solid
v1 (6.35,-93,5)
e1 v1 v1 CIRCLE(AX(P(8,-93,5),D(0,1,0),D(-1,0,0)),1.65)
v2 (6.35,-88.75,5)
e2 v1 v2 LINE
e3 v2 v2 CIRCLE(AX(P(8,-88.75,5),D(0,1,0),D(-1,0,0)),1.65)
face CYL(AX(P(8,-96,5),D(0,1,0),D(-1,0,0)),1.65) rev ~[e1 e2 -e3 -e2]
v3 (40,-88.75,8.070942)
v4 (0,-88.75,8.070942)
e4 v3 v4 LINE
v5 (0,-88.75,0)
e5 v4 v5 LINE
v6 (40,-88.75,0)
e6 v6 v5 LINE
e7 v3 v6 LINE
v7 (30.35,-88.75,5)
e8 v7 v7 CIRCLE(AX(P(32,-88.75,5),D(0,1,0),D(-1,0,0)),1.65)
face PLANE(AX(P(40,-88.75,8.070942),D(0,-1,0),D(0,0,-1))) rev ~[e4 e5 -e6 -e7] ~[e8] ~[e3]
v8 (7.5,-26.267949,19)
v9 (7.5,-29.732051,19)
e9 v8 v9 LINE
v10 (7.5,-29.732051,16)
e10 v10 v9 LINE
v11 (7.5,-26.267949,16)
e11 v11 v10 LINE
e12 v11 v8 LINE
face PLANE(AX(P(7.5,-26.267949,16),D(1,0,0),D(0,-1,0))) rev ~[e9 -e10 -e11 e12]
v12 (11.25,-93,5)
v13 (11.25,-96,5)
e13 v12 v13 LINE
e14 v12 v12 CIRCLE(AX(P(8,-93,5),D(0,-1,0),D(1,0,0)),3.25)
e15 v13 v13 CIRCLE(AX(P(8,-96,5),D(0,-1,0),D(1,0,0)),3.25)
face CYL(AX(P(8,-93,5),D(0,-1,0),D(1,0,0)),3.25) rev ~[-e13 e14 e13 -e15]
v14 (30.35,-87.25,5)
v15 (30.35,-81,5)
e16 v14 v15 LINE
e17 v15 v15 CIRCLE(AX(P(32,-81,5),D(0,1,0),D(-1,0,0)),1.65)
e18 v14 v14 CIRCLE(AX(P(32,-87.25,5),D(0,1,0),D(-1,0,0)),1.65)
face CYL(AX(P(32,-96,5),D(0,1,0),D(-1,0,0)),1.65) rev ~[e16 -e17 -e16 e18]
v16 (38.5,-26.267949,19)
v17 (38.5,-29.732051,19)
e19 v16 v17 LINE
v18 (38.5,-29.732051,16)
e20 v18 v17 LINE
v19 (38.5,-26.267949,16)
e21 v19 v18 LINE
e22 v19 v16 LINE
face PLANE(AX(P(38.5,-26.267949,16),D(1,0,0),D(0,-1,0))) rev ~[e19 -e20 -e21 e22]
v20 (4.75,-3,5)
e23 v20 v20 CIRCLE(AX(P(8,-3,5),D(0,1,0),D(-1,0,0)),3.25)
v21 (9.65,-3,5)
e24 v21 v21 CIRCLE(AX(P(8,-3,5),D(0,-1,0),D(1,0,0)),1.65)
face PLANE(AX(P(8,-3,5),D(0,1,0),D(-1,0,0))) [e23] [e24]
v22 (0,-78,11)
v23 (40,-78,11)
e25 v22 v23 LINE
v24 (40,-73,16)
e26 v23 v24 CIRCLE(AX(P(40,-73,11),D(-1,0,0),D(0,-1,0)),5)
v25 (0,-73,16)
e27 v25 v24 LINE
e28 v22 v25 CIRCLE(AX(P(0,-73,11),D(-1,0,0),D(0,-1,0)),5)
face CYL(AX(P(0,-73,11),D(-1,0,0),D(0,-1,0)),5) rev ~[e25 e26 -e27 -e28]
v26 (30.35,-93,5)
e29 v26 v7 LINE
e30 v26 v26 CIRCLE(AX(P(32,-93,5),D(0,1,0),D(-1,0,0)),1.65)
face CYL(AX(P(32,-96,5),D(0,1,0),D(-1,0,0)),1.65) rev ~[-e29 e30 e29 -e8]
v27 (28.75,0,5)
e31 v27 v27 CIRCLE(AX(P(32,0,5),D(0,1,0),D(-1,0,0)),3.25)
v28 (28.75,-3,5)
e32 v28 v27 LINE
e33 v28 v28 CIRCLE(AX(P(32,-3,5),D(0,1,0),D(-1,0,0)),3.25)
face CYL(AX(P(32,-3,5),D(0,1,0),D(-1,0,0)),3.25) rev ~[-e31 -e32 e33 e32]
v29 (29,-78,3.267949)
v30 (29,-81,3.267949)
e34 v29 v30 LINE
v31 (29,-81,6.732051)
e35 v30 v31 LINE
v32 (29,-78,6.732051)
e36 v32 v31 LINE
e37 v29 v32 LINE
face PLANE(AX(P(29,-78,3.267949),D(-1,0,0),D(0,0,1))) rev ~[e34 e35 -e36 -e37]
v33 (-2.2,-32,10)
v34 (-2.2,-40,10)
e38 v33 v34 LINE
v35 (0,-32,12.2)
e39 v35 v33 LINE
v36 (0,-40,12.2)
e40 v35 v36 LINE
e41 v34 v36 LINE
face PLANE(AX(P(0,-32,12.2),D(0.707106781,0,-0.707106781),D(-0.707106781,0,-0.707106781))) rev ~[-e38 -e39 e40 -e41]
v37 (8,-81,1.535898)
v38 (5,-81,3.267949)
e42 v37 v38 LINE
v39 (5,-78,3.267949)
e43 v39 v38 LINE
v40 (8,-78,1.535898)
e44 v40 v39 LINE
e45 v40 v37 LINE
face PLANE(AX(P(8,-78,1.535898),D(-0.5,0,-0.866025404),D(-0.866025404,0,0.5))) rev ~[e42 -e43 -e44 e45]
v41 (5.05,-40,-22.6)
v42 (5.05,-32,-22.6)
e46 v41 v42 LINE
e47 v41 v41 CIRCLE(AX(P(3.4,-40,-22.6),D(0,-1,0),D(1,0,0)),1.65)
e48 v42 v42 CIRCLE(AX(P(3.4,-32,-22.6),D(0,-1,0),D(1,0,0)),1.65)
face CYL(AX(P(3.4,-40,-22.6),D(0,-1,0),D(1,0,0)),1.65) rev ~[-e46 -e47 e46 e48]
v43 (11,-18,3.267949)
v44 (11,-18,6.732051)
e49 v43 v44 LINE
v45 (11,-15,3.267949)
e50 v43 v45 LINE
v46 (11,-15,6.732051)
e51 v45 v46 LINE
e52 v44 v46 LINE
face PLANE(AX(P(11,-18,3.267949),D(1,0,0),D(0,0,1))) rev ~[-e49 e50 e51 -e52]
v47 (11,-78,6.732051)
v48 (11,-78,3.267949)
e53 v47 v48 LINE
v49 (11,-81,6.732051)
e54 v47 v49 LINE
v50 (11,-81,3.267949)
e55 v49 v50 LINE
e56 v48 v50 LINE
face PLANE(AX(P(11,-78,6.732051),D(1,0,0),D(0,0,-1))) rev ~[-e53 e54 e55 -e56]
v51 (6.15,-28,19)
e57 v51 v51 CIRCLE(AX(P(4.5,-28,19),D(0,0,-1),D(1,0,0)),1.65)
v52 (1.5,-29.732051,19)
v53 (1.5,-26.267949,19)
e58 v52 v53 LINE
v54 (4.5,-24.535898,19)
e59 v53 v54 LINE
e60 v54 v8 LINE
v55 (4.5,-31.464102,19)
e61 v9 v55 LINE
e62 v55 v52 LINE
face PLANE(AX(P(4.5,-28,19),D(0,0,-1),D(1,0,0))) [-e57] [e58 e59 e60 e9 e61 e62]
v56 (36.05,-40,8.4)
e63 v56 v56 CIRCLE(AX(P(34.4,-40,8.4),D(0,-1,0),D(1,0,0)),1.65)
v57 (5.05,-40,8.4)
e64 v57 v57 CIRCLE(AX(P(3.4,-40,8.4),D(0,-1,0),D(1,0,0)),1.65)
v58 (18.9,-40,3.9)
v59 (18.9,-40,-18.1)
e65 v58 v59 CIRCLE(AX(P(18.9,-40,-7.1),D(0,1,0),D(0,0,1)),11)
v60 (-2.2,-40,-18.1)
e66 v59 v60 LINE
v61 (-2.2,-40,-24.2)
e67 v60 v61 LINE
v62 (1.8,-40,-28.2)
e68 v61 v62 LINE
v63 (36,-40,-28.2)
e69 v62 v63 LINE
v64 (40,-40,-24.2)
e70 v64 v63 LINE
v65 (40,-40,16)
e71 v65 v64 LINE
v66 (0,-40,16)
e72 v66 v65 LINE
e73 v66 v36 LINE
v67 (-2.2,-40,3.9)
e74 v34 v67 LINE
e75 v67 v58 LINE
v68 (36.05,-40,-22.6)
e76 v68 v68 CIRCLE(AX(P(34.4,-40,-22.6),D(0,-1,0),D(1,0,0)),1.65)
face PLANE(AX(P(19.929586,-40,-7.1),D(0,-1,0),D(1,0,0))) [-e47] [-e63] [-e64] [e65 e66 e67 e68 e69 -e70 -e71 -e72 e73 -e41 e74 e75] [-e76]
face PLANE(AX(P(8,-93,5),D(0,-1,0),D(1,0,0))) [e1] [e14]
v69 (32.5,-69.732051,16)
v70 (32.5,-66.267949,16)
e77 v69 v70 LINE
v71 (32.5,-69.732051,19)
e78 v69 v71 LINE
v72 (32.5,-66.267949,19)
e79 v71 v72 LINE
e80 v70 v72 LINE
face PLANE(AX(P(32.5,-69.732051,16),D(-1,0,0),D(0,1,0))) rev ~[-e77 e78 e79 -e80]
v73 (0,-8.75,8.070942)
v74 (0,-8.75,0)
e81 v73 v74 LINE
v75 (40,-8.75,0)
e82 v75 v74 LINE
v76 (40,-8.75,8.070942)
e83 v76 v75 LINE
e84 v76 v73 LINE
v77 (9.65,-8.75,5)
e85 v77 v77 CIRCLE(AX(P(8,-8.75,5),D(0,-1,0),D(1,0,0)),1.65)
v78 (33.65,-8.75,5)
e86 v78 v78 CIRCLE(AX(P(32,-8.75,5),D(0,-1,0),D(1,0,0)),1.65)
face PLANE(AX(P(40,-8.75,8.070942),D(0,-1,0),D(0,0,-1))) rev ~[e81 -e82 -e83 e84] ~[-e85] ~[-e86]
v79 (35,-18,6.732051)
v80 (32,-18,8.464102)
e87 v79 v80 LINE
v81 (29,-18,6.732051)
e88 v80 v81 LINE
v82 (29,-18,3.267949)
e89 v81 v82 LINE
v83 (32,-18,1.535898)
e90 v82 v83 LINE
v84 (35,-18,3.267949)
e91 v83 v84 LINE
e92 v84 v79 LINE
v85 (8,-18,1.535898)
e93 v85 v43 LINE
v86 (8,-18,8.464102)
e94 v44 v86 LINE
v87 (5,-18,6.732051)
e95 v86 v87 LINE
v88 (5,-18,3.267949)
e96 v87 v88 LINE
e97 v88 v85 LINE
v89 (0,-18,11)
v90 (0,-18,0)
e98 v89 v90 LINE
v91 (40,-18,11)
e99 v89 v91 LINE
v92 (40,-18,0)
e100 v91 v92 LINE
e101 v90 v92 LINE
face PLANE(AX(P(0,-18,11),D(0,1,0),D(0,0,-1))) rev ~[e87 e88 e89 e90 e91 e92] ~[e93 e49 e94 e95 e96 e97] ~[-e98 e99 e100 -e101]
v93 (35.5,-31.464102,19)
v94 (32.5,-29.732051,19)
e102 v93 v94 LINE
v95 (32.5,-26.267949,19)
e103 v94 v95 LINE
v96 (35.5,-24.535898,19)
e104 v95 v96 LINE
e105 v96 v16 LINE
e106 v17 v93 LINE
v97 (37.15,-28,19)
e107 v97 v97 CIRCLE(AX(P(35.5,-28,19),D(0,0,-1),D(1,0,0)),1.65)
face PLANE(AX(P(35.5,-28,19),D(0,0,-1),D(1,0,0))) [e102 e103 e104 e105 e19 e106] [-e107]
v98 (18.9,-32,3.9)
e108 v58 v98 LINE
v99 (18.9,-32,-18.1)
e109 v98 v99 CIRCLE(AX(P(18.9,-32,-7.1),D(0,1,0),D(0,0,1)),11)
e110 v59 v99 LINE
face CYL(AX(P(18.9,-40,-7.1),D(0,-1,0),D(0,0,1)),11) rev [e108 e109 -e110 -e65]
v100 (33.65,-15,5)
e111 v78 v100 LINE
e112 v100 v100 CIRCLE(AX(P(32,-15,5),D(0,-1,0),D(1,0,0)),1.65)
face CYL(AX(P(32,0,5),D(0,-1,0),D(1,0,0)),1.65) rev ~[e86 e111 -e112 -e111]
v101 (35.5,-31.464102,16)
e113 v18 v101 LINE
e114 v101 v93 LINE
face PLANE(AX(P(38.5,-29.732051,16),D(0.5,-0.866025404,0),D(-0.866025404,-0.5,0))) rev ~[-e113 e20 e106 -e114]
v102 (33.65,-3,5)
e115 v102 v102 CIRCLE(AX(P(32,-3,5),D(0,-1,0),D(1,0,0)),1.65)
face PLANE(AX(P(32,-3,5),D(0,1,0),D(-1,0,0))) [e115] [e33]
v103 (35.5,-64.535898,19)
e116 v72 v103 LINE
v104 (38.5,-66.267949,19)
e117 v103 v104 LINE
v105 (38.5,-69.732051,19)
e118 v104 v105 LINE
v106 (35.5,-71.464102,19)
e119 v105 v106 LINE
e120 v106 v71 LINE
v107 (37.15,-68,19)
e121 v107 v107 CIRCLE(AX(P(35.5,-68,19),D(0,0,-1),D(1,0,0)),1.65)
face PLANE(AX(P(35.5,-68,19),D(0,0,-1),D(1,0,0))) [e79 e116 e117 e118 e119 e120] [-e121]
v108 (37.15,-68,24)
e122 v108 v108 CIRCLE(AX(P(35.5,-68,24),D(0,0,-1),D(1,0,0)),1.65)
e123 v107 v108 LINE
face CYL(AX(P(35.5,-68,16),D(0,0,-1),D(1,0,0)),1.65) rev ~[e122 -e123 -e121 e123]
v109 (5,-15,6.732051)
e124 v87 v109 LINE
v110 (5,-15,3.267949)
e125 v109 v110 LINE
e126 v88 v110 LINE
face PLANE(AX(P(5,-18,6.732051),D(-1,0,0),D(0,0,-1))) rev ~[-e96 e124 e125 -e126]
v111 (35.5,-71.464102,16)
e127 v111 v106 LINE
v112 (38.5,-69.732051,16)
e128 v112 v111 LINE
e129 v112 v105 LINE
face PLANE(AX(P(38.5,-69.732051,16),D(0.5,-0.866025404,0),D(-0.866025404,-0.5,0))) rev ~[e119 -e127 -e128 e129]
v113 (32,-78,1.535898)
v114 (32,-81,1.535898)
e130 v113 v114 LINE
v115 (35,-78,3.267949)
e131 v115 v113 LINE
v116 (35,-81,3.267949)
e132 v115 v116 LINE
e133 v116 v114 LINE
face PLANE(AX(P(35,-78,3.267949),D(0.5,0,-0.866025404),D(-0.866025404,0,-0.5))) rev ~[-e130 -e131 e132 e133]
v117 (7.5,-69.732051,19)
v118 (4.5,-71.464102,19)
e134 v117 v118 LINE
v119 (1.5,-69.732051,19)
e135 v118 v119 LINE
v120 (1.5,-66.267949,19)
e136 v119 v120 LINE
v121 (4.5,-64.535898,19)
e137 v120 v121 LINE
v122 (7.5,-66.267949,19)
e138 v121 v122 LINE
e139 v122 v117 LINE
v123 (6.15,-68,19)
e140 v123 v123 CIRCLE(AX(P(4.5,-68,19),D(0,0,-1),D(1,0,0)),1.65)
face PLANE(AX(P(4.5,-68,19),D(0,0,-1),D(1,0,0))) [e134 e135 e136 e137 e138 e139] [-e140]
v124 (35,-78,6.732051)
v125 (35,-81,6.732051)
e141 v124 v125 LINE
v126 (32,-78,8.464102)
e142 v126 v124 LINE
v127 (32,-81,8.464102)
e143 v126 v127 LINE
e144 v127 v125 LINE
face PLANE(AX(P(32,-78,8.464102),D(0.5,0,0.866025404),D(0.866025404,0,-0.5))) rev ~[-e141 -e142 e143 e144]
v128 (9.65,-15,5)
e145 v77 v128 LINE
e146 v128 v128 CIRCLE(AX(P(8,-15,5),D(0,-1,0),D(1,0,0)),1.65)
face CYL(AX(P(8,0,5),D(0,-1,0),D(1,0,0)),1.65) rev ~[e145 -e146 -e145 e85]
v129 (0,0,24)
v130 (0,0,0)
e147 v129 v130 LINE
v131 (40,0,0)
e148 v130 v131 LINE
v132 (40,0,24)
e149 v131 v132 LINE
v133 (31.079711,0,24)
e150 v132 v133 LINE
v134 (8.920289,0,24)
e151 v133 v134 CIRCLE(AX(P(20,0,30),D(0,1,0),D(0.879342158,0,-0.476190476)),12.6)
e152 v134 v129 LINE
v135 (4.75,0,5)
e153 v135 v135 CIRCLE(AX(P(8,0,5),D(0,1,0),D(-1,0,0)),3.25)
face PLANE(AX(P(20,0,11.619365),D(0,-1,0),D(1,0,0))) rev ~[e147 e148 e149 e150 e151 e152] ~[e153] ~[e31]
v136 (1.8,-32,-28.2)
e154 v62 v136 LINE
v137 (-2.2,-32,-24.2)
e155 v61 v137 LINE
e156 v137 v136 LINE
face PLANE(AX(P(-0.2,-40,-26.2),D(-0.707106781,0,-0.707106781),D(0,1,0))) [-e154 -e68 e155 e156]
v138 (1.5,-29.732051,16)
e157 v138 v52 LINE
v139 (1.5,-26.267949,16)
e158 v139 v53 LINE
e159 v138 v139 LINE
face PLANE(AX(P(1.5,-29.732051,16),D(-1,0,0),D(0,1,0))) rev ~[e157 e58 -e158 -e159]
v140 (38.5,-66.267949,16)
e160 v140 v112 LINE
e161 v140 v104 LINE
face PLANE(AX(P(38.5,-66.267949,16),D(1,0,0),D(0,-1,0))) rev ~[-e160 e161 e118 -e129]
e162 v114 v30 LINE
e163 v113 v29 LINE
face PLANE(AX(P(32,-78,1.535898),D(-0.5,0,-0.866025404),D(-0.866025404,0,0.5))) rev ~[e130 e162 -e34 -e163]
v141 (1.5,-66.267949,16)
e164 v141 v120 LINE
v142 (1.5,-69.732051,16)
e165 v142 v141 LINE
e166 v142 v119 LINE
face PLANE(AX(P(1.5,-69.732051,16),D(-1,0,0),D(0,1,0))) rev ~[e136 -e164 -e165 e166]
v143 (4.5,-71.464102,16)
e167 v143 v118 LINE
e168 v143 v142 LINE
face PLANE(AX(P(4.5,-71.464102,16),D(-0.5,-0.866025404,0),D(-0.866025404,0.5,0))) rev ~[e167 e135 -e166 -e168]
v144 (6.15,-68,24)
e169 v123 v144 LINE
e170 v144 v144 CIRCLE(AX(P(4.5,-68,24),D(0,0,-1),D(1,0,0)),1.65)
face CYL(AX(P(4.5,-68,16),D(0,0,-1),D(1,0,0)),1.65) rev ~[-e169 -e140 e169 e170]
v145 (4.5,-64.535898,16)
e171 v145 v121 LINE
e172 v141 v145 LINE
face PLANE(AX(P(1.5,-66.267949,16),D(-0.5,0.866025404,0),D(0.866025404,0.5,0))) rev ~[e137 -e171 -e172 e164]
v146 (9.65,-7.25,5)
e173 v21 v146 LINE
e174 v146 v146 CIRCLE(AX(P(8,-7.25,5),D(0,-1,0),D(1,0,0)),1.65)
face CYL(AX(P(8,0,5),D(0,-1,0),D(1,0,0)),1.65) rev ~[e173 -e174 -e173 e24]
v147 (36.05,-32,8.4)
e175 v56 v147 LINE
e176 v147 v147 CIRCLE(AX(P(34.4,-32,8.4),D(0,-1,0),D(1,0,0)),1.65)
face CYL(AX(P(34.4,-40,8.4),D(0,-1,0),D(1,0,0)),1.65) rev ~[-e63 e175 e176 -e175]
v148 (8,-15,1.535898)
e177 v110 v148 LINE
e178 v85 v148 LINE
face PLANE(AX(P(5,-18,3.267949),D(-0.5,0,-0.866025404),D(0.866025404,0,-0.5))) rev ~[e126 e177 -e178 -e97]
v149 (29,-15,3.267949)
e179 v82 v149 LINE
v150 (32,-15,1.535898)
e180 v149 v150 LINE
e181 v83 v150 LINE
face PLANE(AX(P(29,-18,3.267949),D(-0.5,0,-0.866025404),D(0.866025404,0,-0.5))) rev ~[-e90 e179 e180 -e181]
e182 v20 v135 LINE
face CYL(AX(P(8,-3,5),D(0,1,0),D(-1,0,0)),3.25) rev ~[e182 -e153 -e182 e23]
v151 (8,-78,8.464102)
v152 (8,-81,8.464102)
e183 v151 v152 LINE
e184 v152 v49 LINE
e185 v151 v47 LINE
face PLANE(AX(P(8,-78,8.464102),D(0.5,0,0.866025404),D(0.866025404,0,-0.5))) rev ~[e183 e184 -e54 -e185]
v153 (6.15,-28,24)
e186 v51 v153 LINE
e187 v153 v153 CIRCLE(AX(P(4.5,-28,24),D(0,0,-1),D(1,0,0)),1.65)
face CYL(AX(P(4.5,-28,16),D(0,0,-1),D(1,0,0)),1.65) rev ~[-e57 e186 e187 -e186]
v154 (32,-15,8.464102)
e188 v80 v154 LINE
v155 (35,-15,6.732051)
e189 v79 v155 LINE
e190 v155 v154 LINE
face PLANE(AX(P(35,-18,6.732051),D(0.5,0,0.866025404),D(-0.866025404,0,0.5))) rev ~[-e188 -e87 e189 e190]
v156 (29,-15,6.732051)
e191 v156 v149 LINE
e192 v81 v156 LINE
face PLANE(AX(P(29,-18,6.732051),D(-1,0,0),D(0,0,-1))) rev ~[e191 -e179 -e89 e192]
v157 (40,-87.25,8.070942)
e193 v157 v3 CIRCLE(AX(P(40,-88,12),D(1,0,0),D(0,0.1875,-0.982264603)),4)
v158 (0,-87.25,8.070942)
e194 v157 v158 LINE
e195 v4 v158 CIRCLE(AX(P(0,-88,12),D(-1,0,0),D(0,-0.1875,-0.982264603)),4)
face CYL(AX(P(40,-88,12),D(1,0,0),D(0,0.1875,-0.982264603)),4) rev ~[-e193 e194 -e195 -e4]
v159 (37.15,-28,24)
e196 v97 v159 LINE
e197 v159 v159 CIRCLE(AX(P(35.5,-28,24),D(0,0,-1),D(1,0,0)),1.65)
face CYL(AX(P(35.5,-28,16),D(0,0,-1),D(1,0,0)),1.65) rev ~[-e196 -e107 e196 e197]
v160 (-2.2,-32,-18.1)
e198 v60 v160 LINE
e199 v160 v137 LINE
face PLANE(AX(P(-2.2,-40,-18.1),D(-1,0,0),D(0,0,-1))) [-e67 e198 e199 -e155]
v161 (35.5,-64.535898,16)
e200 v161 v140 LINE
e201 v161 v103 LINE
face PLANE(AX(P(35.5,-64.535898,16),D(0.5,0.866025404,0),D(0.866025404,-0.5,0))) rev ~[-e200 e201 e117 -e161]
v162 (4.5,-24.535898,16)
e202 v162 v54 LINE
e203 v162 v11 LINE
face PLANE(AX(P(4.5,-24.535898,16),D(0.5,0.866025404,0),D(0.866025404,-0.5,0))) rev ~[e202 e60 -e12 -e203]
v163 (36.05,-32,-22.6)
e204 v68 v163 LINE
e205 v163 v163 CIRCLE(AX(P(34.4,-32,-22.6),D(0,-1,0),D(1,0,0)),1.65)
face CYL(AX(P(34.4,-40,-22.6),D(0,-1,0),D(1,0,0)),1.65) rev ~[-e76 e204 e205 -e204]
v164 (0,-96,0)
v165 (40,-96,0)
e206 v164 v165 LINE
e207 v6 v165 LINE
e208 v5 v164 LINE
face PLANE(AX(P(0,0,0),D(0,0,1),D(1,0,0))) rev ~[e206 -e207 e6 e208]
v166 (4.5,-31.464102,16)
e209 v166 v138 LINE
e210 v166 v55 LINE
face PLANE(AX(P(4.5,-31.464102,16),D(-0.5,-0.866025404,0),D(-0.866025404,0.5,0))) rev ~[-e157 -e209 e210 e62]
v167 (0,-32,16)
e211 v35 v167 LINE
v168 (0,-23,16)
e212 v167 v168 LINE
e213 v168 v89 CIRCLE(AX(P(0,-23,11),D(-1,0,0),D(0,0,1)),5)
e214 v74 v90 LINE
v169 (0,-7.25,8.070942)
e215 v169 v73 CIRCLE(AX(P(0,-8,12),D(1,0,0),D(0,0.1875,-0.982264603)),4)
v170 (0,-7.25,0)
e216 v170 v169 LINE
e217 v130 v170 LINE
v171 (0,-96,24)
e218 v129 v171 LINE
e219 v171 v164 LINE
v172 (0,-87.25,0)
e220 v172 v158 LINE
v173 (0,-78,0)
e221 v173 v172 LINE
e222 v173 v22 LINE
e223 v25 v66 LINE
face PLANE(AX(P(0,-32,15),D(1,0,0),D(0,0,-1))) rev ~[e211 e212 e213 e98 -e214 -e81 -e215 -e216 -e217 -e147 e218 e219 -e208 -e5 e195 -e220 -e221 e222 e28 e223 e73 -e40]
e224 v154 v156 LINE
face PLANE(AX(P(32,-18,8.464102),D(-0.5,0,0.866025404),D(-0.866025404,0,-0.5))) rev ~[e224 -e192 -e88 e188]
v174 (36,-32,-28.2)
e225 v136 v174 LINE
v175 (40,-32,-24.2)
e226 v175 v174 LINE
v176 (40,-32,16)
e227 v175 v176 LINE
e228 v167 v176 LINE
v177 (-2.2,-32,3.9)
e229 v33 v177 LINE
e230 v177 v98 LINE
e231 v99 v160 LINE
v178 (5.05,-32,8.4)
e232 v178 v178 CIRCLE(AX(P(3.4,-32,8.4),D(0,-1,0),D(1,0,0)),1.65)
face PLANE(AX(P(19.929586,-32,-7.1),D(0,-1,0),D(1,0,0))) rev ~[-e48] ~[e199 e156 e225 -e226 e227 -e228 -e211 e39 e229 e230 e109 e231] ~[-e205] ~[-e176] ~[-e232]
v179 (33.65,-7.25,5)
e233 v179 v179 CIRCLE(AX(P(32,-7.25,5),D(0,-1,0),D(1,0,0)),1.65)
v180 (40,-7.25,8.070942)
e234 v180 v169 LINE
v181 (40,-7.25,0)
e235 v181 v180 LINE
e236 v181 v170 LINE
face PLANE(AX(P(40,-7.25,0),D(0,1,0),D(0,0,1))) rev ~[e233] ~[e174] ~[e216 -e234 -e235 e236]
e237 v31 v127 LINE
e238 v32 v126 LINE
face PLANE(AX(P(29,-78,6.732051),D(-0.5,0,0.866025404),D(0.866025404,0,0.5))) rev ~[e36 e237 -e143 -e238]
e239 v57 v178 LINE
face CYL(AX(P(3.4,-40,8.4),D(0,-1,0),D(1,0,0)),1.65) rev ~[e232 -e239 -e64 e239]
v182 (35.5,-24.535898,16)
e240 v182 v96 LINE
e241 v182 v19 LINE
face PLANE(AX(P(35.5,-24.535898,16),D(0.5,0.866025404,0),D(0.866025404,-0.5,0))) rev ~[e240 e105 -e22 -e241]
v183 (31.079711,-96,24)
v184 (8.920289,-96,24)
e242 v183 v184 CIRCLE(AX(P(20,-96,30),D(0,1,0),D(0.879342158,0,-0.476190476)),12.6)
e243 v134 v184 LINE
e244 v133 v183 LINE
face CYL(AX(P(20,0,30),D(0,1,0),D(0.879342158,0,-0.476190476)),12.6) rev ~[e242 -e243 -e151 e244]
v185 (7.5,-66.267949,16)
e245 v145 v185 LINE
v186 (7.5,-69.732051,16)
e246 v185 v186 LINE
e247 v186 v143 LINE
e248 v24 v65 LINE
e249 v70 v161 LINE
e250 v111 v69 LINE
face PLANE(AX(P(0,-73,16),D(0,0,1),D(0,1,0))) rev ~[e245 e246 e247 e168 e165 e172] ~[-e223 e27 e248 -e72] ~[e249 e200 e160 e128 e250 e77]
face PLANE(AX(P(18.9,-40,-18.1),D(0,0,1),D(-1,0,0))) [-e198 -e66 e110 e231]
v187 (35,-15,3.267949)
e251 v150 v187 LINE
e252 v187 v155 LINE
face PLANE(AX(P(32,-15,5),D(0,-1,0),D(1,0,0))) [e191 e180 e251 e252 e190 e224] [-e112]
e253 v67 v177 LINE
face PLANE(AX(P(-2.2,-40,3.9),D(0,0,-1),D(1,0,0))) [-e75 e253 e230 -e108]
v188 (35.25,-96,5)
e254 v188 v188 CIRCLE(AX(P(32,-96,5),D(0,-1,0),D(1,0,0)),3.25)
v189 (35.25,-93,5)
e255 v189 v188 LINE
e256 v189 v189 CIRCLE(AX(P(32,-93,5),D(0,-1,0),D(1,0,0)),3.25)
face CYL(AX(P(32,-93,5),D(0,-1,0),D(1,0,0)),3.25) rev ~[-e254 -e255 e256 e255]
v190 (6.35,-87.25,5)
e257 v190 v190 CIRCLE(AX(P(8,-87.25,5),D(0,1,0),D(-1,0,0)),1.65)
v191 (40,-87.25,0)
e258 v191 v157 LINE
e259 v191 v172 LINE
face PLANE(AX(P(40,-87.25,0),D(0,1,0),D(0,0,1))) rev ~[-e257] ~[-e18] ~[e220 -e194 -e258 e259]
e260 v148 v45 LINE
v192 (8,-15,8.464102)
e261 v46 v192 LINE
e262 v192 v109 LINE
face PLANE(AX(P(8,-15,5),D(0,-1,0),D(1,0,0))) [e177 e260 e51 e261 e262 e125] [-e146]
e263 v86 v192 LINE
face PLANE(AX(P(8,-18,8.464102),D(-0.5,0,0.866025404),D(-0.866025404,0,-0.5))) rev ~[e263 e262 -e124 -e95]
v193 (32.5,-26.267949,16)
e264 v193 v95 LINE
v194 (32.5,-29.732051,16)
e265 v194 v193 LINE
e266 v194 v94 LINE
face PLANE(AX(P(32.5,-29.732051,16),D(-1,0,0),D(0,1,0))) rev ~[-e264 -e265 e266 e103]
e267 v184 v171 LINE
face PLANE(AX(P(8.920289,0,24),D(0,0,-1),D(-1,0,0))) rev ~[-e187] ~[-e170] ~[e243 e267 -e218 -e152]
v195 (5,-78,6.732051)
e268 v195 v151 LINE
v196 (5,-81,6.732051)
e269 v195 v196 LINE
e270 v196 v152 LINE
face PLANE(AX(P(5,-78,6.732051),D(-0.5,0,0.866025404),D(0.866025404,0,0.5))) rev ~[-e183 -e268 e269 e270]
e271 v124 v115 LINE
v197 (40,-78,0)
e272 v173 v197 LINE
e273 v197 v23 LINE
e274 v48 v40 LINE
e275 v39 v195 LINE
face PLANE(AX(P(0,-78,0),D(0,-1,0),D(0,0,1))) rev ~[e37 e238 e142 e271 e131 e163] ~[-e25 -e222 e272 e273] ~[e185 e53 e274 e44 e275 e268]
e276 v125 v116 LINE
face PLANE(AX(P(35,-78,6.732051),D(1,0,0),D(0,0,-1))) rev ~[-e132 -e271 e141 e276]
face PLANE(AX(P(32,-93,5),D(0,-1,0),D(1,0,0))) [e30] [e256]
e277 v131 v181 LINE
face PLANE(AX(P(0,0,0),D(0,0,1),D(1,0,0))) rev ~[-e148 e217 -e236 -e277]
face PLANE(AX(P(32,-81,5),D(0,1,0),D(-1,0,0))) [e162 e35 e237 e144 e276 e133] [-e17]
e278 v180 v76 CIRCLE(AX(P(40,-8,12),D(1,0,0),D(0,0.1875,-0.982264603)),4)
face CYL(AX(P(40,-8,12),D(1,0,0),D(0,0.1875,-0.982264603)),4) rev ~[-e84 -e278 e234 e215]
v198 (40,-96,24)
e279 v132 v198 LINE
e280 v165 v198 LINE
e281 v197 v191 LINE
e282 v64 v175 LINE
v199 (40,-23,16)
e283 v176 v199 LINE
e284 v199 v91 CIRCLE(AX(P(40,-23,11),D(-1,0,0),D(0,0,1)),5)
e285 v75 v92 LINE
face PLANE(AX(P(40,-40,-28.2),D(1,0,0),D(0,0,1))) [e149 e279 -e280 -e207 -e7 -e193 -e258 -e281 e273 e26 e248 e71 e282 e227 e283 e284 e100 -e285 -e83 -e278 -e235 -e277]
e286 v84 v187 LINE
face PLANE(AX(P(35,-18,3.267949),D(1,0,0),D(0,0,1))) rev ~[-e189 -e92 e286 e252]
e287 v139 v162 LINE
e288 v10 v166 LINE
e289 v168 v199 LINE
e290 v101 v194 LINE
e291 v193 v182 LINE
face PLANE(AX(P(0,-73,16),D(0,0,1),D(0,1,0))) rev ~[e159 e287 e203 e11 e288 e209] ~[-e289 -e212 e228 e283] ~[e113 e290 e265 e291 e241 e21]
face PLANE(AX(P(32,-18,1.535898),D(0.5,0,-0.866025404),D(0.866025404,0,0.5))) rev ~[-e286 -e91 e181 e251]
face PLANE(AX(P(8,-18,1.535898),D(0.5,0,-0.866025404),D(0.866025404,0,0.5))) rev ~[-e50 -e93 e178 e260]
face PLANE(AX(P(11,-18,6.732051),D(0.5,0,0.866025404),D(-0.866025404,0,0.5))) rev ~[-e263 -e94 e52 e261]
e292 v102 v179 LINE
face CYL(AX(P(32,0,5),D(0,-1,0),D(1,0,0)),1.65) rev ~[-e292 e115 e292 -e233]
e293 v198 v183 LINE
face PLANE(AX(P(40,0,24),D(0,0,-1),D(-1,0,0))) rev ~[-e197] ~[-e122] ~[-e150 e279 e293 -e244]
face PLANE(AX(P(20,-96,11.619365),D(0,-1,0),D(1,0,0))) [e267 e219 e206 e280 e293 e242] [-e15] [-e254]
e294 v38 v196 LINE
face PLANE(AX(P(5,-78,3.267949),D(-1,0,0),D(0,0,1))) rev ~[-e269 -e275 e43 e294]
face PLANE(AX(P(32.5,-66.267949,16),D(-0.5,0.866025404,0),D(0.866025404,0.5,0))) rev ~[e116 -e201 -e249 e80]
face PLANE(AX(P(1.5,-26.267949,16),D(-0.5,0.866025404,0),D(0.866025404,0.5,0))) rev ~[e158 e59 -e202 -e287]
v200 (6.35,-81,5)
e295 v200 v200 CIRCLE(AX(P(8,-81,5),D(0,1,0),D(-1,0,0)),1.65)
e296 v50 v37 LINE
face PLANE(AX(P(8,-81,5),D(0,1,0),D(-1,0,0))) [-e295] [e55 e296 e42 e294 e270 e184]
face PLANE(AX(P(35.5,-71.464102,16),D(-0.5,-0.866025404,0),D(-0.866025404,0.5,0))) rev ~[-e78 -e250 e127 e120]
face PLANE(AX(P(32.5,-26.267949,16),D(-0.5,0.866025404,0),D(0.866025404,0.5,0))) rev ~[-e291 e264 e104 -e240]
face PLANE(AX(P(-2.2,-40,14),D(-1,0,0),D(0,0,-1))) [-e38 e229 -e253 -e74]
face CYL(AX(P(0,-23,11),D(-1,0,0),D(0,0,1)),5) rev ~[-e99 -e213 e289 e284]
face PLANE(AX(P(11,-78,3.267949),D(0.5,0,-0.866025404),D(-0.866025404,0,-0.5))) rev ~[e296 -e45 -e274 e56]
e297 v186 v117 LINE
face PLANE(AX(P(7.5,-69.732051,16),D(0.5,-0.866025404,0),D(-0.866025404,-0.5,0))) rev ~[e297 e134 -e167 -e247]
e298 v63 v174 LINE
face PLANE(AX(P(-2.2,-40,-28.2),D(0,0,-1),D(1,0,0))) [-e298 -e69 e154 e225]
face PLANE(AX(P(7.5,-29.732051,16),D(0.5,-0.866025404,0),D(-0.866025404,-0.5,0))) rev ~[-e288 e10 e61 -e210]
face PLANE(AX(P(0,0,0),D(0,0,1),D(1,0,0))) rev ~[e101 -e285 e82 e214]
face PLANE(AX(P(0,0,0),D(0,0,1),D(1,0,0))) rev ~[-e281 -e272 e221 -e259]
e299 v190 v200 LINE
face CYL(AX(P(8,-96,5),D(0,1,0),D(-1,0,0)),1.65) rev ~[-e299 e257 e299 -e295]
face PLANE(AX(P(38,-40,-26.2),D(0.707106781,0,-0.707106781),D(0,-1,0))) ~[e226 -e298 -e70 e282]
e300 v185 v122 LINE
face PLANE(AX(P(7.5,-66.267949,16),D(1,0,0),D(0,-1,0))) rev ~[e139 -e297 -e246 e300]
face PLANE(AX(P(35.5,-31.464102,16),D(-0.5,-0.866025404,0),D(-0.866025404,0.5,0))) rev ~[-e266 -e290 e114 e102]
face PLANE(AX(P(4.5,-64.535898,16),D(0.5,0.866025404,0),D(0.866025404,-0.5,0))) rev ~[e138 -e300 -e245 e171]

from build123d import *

# Parameters (mm, degrees)
F1_DEPTH             = 96
F3_DEPTH             = 40.001
F6_D                 = 3.3
F6_DEPTH             = 30
F6_CBORE_D           = 6.5
F6_CBORE_DEPTH       = 3
F6_TIP               = 0.9914200214
F6_ON_F4_D           = 3.3
F6_ON_F4_DEPTH       = 30
F6_ON_F4_CBORE_D     = 6.5
F6_ON_F4_CBORE_DEPTH = 3
F6_ON_F4_TIP         = 0.9914200214
F8_DEPTH             = 40.001
F10_DEPTH            = 3
F12_DEPTH            = 3
F14_DEPTH            = 3
F15_W                = 40
F15_H                = 8
F16_DEPTH            = 2
F17_R                = 1.65
F18_DEPTH            = 8
F20_SIZE             = 4
F22_DEPTH            = 64.001
F23_R                = 1.65
F24_DEPTH            = 25


with BuildPart() as f1:
    # F0 (on Front) → F1 (new body)
    with BuildSketch(Plane.XZ):
        with BuildLine():
            Line((0, 24), (0, 0))
            Line((0, 0), (40, 0))
            Line((40, 0), (40, 24))
            Line((40, 24), (31.0797111876, 24))
            ThreePointArc((31.0797111876, 24), (20, 17.4), (8.9202888124, 24))
            Line((8.9202888124, 24), (0, 24))
        make_face()
    extrude(amount=F1_DEPTH)

    # F2 (on face) → F3 (cut, through all)
    with BuildSketch(Plane.YZ.offset(40)):
        with BuildLine():
            Line((-87.25, 0), (-87.25, 8.0709415886))
            ThreePointArc((-87.25, 8.0709415886), (-88, 16), (-88.75, 8.0709415886))
            Line((-88.75, 8.0709415886), (-88.75, 0))
            Line((-88.75, 0), (-87.25, 0))
        make_face()
        with BuildLine():
            Line((-7.25, 0), (-7.25, 8.0709415886))
            ThreePointArc((-7.25, 8.0709415886), (-8, 16), (-8.75, 8.0709415886))
            Line((-8.75, 8.0709415886), (-8.75, 0))
            Line((-8.75, 0), (-7.25, 0))
        make_face()
    extrude(amount=-F3_DEPTH, mode=Mode.SUBTRACT)

    # F6
    with Locations(Plane.XZ.offset(96)):
        with Locations((8, 5), (32, 5)):
            CounterBoreHole(F6_D / 2, F6_CBORE_D / 2, F6_CBORE_DEPTH, depth=F6_DEPTH)
            with Locations((0, 0, -(F6_DEPTH + F6_TIP / 2))):  # 118° drill point
                Cone(0, F6_D / 2, F6_TIP, mode=Mode.SUBTRACT)

    # F6 on F4
    with Locations(Plane(origin=(0, 0, 0), x_dir=(-1, 0, 0), z_dir=(0, 1, 0))):
        with Locations((-8, 5), (-32, 5)):
            CounterBoreHole(F6_ON_F4_D / 2, F6_ON_F4_CBORE_D / 2, F6_ON_F4_CBORE_DEPTH, depth=F6_ON_F4_DEPTH)
            with Locations((0, 0, -(F6_ON_F4_DEPTH + F6_ON_F4_TIP / 2))):  # 118° drill point
                Cone(0, F6_ON_F4_D / 2, F6_ON_F4_TIP, mode=Mode.SUBTRACT)

    # F7 (on face) → F8 (cut, through all)
    with BuildSketch(Plane(origin=(0, 0, 0), x_dir=(0, -1, 0), z_dir=(-1, 0, 0))):
        with BuildLine():
            Line((18, 11), (18, 0))
            Line((18, 0), (78, 0))
            Line((78, 0), (78, 11))
            ThreePointArc((78, 11), (76.5355339059, 14.5355339059), (73, 16))
            Line((73, 16), (23, 16))
            ThreePointArc((23, 16), (19.4644660941, 14.5355339059), (18, 11))
        make_face()
    extrude(amount=-F8_DEPTH, mode=Mode.SUBTRACT)

    # F9 (on face) → F10 (cut)
    with BuildSketch(Plane(origin=(0, 0, 16), x_dir=(1, 0, 0), z_dir=(0, 0, -1))):
        Polygon((7.5, 66.2679491924), (7.5, 69.7320508076), (4.5, 71.4641016151), (1.5, 69.7320508076), (1.5, 66.2679491924), (4.5, 64.5358983849), align=None)
        Polygon((32.5, 69.7320508076), (32.5, 66.2679491924), (35.5, 64.5358983849), (38.5, 66.2679491924), (38.5, 69.7320508076), (35.5, 71.4641016151), align=None)
        Polygon((7.5, 26.2679491924), (7.5, 29.7320508076), (4.5, 31.4641016151), (1.5, 29.7320508076), (1.5, 26.2679491924), (4.5, 24.5358983849), align=None)
        Polygon((32.5, 29.7320508076), (32.5, 26.2679491924), (35.5, 24.5358983849), (38.5, 26.2679491924), (38.5, 29.7320508076), (35.5, 31.4641016151), align=None)
    extrude(amount=-F10_DEPTH, mode=Mode.SUBTRACT)

    # F11 (on face) → F12 (cut)
    with BuildSketch(Plane.XZ.offset(18)):
        Polygon((11, 3.2679491924), (11, 6.7320508076), (8, 8.4641016151), (5, 6.7320508076), (5, 3.2679491924), (8, 1.5358983849), align=None)
        Polygon((35, 3.2679491924), (35, 6.7320508076), (32, 8.4641016151), (29, 6.7320508076), (29, 3.2679491924), (32, 1.5358983849), align=None)
    extrude(amount=-F12_DEPTH, mode=Mode.SUBTRACT)

    # F13 (on face) → F14 (cut)
    with BuildSketch(Plane(origin=(0, -78, 0), x_dir=(-1, 0, 0), z_dir=(0, 1, 0))):
        Polygon((-35, 6.7320508076), (-35, 3.2679491924), (-32, 1.5358983849), (-29, 3.2679491924), (-29, 6.7320508076), (-32, 8.4641016151), align=None)
        Polygon((-11, 6.7320508076), (-11, 3.2679491924), (-8, 1.5358983849), (-5, 3.2679491924), (-5, 6.7320508076), (-8, 8.4641016151), align=None)
    extrude(amount=-F14_DEPTH, mode=Mode.SUBTRACT)

    # F15 (on face) → F16 (join)
    with BuildSketch(Plane(origin=(0, 0, 16), x_dir=(1, 0, 0), z_dir=(0, 0, -1))):
        with Locations((20, 36)):
            Rectangle(F15_W, F15_H)
    extrude(amount=F16_DEPTH)


with BuildPart() as f18:
    # F17 (on face) → F18 (new body)
    with BuildSketch(Plane.XZ.offset(40)):
        with BuildLine():
            Line((40, -28.2), (40, 14))
            Line((40, 14), (-2.2, 14))
            Line((-2.2, 14), (-2.2, 3.9))
            Line((-2.2, 3.9), (18.9, 3.9))
            ThreePointArc((18.9, 3.9), (29.9, -7.1), (18.9, -18.1))
            Line((18.9, -18.1), (-2.2, -18.1))
            Line((-2.2, -18.1), (-2.2, -28.2))
            Line((-2.2, -28.2), (40, -28.2))
        make_face()
        with Locations((3.4, -22.6)):
            Circle(F17_R, mode=Mode.SUBTRACT)
        with Locations((34.4, -22.6)):
            Circle(F17_R, mode=Mode.SUBTRACT)
        with Locations((3.4, 8.4)):
            Circle(F17_R, mode=Mode.SUBTRACT)
        with Locations((34.4, 8.4)):
            Circle(F17_R, mode=Mode.SUBTRACT)
    extrude(amount=-F18_DEPTH)


with BuildPart() as f1_1:
    add(f1.part)

    # F19: union F18
    add(f18.part)

    # F20
    f20_edges = [f1_1.edges().sort_by_distance(p)[0] for p in [
        (-2.2, -36, -28.2),
        (40, -36, -28.2),
    ]]
    chamfer(f20_edges, length=F20_SIZE)

    # F21 (on face) → F22 (cut, through all)
    with BuildSketch(Plane(origin=(0, -32, 0), x_dir=(-1, 0, 0), z_dir=(0, 1, 0))):
        Polygon((0, 15), (0, 14), (0, 12.2), (2.2, 10), (3.2, 10), (3.2, 15), align=None)
    extrude(amount=-F22_DEPTH, mode=Mode.SUBTRACT)

    # F23 (on face) → F24 (cut)
    with BuildSketch(Plane(origin=(0, 0, 16), x_dir=(1, 0, 0), z_dir=(0, 0, -1))):
        with Locations((35.5, 68)):
            Circle(F23_R)
        with Locations((4.5, 68)):
            Circle(F23_R)
        with Locations((35.5, 28)):
            Circle(F23_R)
        with Locations((4.5, 28)):
            Circle(F23_R)
    extrude(amount=-F24_DEPTH, mode=Mode.SUBTRACT)


solid = f1_1.part
